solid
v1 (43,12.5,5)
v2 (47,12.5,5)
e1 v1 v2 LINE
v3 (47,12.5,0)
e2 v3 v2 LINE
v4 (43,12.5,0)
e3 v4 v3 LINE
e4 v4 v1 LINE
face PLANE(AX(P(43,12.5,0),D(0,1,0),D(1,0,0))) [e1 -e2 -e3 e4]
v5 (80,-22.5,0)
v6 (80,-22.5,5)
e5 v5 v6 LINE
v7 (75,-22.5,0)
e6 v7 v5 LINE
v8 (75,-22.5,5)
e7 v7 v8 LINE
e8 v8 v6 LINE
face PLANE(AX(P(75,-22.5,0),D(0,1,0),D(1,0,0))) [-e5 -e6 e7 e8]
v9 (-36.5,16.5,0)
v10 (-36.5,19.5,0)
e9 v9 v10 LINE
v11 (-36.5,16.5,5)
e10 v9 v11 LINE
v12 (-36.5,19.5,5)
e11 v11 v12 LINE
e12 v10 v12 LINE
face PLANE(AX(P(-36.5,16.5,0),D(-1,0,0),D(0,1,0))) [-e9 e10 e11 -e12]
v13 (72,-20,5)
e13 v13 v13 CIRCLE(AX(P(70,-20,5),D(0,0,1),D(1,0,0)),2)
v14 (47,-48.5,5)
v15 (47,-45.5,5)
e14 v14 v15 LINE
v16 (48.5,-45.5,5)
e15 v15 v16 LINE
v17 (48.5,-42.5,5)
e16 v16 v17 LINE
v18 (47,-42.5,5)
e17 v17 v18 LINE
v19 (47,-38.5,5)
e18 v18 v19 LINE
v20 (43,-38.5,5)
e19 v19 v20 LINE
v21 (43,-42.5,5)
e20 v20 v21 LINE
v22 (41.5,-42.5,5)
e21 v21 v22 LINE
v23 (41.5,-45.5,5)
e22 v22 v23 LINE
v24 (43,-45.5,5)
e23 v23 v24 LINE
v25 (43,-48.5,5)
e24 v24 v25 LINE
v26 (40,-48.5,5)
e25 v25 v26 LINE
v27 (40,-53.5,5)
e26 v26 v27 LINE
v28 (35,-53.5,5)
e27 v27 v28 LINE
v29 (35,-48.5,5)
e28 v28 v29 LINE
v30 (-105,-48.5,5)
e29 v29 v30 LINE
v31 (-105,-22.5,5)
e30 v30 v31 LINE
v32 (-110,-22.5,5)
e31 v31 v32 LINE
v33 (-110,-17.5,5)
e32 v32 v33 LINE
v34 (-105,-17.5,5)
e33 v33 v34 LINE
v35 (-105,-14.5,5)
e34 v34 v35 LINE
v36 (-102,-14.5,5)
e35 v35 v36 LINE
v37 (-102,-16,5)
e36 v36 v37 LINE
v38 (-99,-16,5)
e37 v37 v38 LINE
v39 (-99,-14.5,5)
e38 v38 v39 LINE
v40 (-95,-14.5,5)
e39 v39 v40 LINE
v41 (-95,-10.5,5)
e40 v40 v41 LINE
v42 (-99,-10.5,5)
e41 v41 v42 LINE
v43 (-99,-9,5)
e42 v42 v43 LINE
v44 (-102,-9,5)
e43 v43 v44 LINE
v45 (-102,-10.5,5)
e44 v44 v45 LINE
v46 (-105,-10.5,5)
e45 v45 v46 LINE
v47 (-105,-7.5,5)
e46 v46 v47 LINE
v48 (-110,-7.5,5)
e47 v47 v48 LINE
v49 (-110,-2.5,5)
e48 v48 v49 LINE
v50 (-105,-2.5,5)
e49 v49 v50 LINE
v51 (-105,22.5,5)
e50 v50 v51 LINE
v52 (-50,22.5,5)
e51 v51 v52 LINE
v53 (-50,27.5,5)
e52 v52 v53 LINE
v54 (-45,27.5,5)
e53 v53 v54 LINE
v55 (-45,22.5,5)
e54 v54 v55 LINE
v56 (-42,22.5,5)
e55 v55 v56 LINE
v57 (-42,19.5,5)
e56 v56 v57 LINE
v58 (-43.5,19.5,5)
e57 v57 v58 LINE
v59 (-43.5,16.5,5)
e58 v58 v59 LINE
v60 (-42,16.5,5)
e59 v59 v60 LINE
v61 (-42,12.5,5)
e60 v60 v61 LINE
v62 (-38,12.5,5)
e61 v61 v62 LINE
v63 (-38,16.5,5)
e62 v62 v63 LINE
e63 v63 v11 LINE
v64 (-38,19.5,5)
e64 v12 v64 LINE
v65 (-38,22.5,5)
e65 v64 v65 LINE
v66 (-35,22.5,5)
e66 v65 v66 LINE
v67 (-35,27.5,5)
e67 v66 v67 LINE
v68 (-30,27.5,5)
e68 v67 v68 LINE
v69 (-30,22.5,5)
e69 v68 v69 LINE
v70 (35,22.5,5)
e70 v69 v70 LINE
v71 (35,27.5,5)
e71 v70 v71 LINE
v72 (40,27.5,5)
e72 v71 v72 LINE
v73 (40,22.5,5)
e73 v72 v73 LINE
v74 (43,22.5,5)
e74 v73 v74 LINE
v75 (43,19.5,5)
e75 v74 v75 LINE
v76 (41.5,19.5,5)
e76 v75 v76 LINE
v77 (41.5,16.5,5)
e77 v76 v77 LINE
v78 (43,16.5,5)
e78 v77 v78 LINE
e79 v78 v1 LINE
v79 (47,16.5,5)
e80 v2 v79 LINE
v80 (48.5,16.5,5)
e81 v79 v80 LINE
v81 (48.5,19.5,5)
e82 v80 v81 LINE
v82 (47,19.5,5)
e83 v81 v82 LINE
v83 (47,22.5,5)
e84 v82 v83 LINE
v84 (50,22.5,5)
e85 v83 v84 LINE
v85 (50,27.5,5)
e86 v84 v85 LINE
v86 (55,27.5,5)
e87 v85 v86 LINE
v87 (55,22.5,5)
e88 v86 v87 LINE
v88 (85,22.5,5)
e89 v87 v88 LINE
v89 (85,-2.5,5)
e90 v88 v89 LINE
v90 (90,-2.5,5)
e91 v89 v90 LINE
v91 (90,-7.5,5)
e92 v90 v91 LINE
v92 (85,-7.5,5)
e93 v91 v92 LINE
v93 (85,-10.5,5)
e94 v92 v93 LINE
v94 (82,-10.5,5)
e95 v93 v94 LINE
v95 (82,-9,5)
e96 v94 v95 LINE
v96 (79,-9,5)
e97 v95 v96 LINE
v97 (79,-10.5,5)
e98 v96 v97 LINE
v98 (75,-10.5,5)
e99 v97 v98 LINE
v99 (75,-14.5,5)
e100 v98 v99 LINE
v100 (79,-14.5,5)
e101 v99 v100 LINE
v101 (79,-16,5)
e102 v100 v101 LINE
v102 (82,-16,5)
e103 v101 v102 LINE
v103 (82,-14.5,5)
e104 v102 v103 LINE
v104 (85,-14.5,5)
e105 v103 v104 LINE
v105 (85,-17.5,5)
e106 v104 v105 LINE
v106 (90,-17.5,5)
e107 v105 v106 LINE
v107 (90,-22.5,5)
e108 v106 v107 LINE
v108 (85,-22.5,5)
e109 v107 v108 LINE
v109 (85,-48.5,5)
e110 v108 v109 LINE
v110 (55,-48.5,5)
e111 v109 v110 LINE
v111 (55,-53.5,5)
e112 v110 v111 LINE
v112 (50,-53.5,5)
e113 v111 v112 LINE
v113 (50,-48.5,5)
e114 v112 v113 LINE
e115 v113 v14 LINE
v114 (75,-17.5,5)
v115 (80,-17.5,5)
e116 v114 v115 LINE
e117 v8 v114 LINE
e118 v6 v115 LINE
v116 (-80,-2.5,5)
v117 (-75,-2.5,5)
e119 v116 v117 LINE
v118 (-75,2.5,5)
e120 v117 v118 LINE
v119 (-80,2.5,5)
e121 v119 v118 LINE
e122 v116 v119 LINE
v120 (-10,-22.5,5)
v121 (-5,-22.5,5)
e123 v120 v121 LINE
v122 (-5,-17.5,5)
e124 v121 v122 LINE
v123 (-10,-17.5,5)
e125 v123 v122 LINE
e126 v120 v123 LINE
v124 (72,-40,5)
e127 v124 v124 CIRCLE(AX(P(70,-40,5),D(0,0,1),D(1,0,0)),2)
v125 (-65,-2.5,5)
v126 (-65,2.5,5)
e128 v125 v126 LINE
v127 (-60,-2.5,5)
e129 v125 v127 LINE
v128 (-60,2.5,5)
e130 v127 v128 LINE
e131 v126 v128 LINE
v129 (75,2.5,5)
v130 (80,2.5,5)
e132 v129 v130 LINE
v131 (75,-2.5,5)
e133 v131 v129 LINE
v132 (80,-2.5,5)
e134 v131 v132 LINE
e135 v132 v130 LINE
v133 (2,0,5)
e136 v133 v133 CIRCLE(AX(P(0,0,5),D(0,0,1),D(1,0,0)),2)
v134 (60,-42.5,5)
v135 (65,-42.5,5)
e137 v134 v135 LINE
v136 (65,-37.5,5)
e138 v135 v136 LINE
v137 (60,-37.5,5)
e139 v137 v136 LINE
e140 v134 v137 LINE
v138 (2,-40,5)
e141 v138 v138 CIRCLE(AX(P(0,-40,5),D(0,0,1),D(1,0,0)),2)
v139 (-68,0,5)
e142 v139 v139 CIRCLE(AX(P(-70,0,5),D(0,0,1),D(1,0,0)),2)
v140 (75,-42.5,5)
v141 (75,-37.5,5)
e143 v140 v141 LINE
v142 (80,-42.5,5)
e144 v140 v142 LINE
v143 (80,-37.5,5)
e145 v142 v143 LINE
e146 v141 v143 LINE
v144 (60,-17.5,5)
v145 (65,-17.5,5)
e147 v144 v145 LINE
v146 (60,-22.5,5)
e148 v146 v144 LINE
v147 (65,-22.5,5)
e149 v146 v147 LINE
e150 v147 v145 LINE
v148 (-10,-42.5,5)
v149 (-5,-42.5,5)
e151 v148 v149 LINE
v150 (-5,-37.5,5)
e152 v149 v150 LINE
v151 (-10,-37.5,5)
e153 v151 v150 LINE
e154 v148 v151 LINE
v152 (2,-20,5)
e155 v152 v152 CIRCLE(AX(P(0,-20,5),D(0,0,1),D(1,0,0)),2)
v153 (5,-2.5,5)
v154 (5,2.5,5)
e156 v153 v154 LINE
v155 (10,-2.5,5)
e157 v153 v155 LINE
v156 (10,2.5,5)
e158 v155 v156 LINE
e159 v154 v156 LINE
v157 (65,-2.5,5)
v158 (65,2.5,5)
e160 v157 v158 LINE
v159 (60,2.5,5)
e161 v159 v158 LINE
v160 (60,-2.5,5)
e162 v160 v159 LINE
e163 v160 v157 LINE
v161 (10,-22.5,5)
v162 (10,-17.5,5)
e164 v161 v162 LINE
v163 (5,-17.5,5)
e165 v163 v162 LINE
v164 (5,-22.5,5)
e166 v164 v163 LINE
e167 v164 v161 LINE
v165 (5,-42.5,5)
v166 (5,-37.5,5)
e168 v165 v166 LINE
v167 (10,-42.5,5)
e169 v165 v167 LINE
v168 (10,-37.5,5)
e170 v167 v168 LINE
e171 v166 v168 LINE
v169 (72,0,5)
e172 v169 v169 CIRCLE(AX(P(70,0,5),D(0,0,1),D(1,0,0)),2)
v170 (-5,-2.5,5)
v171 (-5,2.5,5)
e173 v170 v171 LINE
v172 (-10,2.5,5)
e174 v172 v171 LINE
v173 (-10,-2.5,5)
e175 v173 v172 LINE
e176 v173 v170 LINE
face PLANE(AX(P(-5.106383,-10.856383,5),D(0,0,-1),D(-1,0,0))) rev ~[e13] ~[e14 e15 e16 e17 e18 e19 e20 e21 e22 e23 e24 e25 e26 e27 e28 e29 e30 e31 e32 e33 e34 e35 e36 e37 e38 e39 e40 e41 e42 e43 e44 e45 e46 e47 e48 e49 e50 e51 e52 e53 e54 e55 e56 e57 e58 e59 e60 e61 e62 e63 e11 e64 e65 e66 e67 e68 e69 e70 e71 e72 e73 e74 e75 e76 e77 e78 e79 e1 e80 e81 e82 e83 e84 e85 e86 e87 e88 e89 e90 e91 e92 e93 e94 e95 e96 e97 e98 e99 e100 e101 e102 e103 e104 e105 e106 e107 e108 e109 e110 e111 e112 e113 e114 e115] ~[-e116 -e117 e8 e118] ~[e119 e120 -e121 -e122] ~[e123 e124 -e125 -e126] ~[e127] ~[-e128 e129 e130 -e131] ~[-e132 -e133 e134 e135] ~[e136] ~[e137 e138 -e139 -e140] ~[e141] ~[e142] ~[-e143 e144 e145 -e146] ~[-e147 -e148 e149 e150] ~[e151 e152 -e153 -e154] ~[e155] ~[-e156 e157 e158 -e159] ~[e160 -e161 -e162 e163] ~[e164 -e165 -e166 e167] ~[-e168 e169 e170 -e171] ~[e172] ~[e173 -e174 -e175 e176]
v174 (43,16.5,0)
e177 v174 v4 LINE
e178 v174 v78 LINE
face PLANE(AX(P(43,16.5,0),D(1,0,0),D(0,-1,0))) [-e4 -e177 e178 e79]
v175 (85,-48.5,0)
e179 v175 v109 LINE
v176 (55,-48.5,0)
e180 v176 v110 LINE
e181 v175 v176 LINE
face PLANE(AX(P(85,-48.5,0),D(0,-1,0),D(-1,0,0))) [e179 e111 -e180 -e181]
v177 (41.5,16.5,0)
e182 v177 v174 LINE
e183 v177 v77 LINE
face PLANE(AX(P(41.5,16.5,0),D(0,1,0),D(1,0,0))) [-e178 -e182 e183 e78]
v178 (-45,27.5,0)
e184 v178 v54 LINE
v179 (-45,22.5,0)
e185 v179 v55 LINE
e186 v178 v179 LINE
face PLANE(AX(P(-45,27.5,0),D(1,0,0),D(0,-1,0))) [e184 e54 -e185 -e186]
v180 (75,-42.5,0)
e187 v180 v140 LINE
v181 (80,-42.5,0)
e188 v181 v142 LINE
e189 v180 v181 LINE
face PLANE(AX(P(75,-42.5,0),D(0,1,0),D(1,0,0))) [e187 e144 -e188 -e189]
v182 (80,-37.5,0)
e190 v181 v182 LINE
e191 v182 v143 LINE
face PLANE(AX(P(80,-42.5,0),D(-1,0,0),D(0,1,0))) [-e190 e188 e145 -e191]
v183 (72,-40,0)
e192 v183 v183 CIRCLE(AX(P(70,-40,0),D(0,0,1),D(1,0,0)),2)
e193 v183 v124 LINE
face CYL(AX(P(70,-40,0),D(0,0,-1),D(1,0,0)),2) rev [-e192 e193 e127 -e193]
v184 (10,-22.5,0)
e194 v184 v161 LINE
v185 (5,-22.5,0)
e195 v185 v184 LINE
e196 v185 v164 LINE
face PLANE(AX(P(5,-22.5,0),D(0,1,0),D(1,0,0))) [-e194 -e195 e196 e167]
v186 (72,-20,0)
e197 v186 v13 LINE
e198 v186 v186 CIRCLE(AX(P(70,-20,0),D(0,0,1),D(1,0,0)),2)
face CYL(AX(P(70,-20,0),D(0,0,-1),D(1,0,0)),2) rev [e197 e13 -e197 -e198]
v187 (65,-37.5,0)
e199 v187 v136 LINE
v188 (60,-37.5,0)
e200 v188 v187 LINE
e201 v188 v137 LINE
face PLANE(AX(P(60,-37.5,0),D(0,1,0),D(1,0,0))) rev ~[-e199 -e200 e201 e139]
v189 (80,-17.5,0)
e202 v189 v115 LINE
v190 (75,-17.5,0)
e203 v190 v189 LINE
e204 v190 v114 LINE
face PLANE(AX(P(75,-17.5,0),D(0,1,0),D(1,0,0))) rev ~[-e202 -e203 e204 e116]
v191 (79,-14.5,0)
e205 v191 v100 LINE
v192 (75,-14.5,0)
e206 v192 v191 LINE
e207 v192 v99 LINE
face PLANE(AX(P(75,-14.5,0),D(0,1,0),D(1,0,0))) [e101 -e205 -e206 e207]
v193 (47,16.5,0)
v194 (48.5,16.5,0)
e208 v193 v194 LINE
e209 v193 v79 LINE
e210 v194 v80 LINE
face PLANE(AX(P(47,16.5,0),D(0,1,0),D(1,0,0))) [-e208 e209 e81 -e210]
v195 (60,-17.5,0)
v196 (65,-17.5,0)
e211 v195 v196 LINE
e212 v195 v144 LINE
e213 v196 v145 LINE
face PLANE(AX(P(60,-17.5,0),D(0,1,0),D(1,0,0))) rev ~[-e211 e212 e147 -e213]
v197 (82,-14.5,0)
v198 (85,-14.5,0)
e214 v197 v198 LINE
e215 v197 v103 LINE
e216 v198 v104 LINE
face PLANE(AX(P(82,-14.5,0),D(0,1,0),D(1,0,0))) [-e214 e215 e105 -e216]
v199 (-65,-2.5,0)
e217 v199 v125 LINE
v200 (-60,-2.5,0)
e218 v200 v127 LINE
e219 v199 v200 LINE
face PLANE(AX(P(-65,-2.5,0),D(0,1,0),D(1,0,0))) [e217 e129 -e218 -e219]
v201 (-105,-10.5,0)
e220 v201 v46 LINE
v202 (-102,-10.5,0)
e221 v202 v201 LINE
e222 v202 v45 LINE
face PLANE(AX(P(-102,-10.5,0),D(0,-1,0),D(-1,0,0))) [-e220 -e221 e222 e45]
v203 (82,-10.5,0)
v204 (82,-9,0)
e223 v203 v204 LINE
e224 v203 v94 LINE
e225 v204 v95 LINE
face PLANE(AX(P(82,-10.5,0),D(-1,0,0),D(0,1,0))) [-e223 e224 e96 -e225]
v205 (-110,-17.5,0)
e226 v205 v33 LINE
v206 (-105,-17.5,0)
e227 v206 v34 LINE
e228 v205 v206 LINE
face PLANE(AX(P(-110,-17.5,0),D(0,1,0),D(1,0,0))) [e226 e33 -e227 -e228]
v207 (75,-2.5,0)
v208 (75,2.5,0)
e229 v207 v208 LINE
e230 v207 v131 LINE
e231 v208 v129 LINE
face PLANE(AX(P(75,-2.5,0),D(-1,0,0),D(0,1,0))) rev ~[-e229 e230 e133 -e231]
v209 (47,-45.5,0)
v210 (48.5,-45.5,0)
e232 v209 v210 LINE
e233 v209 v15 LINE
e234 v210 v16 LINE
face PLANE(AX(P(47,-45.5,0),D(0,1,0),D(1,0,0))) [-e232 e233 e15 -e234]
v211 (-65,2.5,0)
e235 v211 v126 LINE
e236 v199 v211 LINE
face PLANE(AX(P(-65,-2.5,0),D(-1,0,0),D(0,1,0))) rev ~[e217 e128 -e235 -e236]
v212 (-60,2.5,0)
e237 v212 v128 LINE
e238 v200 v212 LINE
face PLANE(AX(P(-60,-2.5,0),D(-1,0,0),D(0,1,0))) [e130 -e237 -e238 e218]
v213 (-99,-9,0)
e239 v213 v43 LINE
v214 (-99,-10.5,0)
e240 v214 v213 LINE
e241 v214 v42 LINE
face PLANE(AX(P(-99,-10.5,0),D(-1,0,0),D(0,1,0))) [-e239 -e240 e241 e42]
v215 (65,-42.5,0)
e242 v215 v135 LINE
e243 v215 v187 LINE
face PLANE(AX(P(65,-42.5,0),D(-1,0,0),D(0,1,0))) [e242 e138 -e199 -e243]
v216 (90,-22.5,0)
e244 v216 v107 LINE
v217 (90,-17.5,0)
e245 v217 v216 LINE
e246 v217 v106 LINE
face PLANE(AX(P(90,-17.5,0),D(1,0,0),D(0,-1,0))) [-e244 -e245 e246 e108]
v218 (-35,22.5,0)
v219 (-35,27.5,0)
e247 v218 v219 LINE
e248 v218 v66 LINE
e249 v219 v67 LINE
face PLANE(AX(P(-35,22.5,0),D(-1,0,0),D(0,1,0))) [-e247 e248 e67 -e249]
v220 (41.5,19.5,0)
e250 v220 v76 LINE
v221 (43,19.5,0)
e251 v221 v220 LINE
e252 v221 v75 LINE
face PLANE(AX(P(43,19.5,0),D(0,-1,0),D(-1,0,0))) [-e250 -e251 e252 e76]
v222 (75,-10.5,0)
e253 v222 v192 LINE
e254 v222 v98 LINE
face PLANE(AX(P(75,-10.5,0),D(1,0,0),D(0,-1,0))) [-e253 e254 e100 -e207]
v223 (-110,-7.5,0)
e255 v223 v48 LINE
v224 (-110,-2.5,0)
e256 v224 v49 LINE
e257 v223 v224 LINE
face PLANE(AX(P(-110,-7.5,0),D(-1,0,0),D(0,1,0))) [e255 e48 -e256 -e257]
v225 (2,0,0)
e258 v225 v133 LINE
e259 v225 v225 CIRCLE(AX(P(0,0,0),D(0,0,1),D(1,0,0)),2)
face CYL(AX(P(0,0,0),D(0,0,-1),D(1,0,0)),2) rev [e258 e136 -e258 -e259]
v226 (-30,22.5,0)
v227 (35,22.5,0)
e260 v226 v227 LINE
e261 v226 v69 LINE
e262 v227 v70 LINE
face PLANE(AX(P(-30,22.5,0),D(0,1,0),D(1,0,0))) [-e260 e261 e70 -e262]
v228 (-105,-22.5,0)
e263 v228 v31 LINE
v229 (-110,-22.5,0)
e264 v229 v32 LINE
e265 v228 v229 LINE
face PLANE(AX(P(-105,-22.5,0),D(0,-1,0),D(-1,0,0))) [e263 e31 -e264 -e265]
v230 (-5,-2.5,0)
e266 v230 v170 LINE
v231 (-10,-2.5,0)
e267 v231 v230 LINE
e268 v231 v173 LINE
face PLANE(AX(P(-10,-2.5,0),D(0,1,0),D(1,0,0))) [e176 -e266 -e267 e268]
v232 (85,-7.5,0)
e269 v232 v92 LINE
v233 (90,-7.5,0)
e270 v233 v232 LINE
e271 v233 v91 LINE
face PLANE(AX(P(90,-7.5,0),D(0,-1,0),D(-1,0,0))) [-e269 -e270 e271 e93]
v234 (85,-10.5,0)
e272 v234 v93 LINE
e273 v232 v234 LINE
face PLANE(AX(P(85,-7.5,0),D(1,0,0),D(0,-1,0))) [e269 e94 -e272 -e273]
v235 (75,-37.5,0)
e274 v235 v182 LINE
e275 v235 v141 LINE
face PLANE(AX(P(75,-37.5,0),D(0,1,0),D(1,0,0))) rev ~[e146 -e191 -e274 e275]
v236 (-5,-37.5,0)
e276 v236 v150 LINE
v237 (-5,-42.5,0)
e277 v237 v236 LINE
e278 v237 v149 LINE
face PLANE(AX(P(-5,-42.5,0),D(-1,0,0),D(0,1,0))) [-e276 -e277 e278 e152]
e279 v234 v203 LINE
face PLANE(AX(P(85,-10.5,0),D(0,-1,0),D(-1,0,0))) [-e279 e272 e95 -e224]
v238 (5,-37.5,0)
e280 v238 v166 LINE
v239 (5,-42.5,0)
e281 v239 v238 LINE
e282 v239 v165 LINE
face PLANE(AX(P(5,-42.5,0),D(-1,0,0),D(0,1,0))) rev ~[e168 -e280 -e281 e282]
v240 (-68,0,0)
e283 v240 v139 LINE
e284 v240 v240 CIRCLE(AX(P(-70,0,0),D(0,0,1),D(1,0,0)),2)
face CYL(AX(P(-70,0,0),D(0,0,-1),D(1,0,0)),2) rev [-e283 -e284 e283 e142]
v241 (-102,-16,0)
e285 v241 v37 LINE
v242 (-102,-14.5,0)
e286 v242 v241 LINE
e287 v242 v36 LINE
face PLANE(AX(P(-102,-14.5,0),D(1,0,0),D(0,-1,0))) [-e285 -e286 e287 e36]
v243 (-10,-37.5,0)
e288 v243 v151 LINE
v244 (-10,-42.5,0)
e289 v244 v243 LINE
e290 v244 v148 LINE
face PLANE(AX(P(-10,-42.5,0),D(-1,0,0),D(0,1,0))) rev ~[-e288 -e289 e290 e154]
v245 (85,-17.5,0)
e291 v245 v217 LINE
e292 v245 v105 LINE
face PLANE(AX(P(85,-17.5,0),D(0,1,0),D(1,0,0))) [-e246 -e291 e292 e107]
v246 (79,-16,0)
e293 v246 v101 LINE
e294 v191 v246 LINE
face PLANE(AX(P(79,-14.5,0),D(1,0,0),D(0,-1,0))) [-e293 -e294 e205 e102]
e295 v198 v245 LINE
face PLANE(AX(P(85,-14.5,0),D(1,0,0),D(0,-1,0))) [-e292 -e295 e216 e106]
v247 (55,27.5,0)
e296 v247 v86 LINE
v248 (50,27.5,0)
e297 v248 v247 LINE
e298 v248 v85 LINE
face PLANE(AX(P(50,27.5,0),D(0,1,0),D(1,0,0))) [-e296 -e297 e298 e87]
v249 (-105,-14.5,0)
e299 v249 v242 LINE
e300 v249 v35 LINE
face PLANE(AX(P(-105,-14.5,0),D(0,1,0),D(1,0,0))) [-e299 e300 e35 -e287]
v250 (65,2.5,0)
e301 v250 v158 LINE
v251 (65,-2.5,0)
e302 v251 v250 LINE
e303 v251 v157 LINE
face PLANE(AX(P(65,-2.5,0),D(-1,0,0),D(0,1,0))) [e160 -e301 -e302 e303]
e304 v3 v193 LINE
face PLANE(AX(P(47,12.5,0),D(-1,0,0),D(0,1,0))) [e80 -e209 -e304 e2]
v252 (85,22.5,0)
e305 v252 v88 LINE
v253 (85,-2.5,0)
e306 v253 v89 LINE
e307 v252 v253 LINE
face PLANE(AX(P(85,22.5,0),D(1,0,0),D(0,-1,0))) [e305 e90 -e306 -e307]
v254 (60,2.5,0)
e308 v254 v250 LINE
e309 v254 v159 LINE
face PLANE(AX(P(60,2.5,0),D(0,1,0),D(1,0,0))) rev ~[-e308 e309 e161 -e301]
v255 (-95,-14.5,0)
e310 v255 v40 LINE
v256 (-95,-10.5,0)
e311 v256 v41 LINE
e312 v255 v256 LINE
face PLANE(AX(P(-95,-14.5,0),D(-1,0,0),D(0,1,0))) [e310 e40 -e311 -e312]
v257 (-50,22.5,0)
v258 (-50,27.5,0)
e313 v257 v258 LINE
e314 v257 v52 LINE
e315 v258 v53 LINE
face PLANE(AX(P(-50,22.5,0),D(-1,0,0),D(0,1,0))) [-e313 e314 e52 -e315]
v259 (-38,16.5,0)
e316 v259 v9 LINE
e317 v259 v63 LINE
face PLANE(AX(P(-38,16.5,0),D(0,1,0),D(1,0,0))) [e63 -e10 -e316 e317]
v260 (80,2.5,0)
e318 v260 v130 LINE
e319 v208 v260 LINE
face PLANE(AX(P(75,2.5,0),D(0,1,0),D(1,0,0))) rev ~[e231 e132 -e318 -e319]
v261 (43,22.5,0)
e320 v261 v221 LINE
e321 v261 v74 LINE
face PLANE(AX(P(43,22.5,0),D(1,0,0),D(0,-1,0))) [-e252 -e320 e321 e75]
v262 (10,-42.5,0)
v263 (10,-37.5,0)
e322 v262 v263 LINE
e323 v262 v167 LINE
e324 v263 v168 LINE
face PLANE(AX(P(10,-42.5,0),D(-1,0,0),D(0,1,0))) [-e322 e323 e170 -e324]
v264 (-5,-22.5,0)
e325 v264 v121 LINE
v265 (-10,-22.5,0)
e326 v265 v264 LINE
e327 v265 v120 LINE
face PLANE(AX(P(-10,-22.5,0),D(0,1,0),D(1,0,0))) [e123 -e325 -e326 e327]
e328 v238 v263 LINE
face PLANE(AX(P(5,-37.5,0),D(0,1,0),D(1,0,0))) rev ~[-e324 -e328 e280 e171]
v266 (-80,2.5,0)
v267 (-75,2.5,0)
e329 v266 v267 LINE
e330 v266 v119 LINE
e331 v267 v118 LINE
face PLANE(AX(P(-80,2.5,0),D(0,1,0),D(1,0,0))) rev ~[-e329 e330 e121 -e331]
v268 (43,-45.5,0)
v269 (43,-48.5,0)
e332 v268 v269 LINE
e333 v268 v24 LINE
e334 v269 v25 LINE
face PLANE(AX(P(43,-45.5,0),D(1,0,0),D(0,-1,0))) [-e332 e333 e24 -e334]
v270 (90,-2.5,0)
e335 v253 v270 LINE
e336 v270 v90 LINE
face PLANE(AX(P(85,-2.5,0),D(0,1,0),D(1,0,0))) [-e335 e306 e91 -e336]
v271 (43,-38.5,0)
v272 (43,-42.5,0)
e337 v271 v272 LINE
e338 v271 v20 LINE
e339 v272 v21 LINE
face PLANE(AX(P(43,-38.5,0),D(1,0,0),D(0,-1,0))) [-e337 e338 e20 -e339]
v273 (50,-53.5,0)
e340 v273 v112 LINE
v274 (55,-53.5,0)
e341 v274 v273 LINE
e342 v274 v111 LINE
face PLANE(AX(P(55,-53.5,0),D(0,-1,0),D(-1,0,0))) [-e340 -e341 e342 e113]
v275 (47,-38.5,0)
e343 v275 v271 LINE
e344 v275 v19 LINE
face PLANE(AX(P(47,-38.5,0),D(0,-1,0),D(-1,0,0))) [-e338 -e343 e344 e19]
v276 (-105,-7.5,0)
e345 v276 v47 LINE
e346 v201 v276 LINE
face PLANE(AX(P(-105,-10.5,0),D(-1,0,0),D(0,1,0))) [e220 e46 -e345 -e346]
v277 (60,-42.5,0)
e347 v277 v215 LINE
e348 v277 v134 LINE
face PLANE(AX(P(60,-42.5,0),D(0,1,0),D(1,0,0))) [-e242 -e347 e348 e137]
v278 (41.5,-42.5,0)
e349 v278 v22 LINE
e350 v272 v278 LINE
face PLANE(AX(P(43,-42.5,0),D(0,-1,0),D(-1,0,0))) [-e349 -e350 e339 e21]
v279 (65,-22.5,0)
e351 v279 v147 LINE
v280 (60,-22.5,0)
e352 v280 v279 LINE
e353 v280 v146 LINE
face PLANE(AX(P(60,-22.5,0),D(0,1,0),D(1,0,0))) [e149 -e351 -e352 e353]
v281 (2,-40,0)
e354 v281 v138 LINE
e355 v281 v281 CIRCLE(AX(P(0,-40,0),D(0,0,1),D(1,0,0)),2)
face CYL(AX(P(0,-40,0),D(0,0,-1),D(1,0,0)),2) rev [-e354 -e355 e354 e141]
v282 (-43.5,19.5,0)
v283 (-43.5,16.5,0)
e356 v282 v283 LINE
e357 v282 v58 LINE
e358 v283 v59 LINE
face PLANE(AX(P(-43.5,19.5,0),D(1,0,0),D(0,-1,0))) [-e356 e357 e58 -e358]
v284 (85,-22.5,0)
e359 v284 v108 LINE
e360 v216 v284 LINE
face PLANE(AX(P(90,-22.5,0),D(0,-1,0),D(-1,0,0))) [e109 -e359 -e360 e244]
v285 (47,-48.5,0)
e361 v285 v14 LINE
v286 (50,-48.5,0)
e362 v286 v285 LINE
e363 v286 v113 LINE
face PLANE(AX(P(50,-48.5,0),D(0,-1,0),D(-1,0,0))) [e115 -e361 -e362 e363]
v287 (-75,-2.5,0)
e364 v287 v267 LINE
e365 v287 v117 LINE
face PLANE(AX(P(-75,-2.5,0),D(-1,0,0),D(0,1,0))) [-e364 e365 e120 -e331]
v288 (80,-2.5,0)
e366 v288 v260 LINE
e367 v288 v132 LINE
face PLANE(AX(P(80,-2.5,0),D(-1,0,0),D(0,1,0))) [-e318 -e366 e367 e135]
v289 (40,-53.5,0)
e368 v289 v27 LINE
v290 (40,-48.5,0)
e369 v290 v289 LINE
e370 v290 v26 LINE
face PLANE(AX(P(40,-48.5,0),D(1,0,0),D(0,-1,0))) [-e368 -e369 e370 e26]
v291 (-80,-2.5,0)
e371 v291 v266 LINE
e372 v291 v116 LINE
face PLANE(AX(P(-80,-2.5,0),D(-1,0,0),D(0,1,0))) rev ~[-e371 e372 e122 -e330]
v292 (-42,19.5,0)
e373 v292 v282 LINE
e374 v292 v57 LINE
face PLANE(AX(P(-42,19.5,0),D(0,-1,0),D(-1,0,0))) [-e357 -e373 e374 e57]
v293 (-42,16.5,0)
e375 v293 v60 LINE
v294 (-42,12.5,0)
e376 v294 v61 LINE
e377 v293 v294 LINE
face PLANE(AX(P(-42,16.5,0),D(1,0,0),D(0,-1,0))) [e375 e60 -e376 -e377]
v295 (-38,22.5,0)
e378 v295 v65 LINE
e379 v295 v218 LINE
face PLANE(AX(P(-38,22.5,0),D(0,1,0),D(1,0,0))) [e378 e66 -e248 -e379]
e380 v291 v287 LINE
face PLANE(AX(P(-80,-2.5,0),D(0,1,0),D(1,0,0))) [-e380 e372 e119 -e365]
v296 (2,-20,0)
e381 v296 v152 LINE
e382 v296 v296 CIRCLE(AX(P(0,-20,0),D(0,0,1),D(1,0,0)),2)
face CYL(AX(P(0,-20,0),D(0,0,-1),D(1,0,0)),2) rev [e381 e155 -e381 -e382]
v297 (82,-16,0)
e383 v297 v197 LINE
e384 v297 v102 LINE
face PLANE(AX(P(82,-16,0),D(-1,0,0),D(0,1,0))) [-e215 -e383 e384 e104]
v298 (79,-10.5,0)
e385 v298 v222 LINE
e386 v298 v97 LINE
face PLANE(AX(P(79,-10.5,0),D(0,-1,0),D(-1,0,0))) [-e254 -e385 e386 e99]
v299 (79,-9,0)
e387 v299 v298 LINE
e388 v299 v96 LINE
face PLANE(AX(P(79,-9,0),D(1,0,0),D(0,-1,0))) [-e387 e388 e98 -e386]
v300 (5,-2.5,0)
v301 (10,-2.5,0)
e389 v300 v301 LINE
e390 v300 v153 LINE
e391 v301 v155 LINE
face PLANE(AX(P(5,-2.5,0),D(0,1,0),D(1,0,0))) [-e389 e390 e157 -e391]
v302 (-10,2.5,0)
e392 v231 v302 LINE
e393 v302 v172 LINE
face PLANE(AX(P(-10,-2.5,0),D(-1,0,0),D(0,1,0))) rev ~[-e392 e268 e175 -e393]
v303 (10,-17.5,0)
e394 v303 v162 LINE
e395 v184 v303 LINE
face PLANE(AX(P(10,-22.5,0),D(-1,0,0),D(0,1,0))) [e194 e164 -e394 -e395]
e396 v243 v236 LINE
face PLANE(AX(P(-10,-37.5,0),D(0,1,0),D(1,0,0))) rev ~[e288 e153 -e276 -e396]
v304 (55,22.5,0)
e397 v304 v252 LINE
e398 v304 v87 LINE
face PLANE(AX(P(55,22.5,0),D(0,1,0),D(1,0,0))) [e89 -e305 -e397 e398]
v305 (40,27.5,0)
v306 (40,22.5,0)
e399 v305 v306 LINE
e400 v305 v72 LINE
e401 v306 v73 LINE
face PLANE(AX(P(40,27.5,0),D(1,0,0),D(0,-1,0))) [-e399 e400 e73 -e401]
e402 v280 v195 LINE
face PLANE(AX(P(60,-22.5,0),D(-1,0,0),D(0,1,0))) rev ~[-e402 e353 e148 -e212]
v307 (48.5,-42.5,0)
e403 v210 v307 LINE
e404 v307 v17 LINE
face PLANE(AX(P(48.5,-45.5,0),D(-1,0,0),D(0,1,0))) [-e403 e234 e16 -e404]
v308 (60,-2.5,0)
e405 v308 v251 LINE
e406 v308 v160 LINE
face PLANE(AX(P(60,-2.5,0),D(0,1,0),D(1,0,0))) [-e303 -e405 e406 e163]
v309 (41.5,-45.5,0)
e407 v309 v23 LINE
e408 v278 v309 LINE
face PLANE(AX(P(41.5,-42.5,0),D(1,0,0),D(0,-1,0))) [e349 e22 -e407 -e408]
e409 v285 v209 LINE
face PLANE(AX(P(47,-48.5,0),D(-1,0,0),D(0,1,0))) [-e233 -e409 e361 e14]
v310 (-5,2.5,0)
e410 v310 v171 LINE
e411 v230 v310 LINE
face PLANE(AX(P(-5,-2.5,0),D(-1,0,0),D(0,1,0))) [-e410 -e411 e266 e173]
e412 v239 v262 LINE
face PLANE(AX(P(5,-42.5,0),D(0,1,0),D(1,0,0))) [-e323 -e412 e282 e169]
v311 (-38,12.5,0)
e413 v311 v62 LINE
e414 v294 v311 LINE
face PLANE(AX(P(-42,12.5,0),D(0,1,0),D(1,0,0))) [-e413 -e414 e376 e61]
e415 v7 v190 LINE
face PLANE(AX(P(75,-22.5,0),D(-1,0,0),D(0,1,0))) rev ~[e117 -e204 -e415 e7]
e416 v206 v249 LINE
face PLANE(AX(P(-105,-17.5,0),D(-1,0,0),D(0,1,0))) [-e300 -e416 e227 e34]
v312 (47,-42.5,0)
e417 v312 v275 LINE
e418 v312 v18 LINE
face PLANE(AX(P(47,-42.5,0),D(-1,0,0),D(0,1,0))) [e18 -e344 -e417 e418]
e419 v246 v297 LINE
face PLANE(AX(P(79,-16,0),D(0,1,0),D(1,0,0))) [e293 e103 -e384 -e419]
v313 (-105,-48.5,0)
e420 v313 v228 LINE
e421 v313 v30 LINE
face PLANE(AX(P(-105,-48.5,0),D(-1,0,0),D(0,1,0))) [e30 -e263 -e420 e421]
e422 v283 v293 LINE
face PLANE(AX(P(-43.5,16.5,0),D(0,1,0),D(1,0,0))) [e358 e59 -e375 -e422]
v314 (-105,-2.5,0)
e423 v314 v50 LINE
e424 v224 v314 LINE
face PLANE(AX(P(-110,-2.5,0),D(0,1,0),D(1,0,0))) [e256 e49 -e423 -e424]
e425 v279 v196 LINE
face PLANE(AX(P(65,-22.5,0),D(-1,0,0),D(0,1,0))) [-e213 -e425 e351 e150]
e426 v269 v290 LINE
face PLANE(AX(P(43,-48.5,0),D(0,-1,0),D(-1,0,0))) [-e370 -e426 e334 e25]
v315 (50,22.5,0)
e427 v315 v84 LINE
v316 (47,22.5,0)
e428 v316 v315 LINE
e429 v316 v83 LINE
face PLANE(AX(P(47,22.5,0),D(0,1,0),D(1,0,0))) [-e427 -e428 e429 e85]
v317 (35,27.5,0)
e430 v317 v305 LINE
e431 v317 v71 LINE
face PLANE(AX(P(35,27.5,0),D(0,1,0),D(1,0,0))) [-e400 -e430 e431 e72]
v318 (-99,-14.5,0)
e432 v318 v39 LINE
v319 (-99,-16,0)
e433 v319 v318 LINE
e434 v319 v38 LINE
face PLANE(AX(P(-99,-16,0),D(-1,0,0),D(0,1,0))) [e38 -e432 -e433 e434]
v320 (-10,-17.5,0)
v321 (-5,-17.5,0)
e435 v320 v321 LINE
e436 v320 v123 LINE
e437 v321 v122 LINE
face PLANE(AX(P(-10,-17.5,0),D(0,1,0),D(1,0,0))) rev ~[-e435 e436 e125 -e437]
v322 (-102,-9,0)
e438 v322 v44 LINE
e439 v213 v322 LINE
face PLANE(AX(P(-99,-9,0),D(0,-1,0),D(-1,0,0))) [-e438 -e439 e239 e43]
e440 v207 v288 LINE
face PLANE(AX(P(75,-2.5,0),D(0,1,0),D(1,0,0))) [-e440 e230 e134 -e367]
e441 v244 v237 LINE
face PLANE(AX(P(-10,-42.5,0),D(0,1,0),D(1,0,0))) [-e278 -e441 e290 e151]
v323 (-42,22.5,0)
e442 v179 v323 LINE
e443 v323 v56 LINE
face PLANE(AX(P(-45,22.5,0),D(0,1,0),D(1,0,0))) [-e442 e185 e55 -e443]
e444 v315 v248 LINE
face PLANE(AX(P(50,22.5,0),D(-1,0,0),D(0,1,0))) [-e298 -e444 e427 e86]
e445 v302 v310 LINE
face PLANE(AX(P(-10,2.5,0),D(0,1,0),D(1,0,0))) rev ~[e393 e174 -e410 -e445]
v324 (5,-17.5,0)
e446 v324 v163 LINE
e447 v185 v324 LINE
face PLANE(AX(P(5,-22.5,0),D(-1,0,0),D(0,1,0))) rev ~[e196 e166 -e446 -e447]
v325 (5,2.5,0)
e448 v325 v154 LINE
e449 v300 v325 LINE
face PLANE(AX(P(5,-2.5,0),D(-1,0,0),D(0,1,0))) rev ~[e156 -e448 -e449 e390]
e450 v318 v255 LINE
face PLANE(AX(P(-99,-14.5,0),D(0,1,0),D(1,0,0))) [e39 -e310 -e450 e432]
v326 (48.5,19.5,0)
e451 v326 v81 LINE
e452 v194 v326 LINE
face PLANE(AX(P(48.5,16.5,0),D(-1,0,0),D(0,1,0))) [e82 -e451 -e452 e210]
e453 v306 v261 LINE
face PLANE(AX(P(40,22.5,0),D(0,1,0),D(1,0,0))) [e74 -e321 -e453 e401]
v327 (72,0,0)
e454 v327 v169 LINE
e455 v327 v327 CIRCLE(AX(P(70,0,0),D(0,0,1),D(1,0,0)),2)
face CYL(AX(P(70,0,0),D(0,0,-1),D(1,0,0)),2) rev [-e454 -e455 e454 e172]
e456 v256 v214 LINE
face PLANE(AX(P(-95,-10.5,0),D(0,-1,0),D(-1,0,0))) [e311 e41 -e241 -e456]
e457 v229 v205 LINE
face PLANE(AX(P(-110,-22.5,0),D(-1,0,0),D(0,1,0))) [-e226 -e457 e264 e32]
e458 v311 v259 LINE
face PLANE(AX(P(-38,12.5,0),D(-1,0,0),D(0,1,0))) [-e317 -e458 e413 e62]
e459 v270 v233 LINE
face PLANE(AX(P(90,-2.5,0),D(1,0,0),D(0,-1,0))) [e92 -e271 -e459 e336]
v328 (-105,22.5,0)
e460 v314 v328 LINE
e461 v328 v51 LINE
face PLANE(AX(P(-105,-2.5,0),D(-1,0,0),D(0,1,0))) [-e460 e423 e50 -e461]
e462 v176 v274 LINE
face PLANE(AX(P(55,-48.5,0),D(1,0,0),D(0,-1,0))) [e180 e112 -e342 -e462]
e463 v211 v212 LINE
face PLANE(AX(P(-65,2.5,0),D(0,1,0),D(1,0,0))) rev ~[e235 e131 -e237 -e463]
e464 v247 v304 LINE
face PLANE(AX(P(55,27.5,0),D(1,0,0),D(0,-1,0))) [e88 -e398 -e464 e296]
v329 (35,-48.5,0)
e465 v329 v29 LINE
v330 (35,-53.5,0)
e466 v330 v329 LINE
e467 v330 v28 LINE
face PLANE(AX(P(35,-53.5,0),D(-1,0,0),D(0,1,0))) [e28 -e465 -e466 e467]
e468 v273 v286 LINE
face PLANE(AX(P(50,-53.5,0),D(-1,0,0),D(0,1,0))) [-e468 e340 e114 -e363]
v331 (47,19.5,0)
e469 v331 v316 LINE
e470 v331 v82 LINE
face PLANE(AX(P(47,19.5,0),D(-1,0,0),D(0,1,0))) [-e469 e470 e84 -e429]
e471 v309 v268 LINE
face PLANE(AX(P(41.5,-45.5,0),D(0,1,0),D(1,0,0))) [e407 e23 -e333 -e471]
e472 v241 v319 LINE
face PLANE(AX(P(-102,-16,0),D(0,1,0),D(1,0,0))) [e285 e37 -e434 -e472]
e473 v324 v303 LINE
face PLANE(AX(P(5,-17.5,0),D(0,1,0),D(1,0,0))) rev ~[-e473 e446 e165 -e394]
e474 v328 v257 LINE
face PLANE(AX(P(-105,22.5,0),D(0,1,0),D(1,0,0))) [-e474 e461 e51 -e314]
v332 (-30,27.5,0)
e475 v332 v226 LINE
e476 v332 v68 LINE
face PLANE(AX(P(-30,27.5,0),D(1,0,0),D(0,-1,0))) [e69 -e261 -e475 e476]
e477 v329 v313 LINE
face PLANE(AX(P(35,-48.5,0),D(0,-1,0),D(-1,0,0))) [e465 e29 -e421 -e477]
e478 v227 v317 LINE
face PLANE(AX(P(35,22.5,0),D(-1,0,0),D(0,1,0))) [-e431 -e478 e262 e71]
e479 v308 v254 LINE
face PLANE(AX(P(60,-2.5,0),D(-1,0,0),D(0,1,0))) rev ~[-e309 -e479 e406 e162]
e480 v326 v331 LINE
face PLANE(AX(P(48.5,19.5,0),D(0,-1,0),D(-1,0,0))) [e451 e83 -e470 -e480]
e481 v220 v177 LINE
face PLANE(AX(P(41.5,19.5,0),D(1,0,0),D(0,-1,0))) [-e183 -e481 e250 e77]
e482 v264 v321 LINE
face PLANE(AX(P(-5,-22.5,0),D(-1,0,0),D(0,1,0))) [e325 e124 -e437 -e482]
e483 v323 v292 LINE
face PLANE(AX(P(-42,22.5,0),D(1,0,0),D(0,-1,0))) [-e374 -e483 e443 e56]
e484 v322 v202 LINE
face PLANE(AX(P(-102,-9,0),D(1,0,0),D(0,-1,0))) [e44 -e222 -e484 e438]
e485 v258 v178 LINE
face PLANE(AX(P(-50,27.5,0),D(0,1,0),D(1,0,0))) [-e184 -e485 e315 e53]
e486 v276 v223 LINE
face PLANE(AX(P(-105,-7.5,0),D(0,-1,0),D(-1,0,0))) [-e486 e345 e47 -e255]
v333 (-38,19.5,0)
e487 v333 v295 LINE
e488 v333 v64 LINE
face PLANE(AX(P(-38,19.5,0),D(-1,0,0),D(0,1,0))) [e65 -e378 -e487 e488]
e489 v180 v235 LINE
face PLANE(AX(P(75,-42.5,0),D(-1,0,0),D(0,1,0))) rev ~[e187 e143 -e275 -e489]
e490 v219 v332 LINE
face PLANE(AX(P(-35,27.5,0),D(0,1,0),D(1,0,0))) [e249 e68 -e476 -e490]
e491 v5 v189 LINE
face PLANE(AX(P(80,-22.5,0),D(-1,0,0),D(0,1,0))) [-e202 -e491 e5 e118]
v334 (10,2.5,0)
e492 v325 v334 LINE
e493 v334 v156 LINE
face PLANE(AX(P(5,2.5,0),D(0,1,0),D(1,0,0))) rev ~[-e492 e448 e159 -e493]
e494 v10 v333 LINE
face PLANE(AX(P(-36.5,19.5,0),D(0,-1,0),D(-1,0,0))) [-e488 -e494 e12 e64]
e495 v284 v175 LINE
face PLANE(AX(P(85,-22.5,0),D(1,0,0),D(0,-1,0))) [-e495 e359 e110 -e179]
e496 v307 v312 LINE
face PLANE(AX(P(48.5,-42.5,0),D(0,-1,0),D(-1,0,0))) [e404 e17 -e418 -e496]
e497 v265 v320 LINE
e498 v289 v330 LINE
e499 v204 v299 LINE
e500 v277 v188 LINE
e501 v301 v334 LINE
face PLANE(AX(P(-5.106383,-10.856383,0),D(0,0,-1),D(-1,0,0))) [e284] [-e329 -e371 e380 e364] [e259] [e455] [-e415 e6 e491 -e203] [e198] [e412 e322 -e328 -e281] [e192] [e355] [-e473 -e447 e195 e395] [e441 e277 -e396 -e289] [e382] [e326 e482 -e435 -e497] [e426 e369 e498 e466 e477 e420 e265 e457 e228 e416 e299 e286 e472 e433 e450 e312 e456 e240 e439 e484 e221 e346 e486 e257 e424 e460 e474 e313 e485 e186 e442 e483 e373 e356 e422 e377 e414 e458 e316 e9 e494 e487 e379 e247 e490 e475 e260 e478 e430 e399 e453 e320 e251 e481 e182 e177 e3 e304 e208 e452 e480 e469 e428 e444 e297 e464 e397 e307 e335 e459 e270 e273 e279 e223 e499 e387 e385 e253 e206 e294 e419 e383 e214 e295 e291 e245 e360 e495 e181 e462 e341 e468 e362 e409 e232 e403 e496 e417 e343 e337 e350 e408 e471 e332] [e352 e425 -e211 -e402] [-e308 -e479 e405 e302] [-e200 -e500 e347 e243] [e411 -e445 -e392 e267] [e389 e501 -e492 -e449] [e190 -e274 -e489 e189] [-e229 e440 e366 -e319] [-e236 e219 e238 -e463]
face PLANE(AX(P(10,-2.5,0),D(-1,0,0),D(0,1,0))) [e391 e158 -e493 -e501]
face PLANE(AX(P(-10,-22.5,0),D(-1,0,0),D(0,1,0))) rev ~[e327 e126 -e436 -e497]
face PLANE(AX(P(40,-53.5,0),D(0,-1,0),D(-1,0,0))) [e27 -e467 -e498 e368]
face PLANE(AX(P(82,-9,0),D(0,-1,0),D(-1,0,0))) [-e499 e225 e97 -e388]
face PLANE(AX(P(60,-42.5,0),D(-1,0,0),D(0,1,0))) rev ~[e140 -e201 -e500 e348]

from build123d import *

# Parameters (mm, degrees)
ESQUISSE1_R        = 2
ESQUISSE1_W        = 5
ESQUISSE1_H        = 5
BOSS_EXTRU_1_DEPTH = 5


with BuildPart() as part:
    # Esquisse1 → Boss.-Extru.1 (new body)
    with BuildSketch(Plane.XY):
        Polygon((-105, 22.5), (-50, 22.5), (-50, 27.5), (-45, 27.5), (-45, 22.5), (-42, 22.5), (-42, 19.5), (-43.5, 19.5), (-43.5, 16.5), (-42, 16.5), (-42, 12.5), (-38, 12.5), (-38, 16.5), (-36.5, 16.5), (-36.5, 19.5), (-38, 19.5), (-38, 22.5), (-35, 22.5), (-35, 27.5), (-30, 27.5), (-30, 22.5), (35, 22.5), (35, 27.5), (40, 27.5), (40, 22.5), (43, 22.5), (43, 19.5), (41.5, 19.5), (41.5, 16.5), (43, 16.5), (43, 12.5), (47, 12.5), (47, 16.5), (48.5, 16.5), (48.5, 19.5), (47, 19.5), (47, 22.5), (50, 22.5), (50, 27.5), (55, 27.5), (55, 22.5), (85, 22.5), (85, -2.5), (90, -2.5), (90, -7.5), (85, -7.5), (85, -10.5), (82, -10.5), (82, -9), (79, -9), (79, -10.5), (75, -10.5), (75, -14.5), (79, -14.5), (79, -16), (82, -16), (82, -14.5), (85, -14.5), (85, -17.5), (90, -17.5), (90, -22.5), (85, -22.5), (85, -48.5), (55, -48.5), (55, -53.5), (50, -53.5), (50, -48.5), (47, -48.5), (47, -45.5), (48.5, -45.5), (48.5, -42.5), (47, -42.5), (47, -38.5), (43, -38.5), (43, -42.5), (41.5, -42.5), (41.5, -45.5), (43, -45.5), (43, -48.5), (40, -48.5), (40, -53.5), (35, -53.5), (35, -48.5), (-105, -48.5), (-105, -22.5), (-110, -22.5), (-110, -17.5), (-105, -17.5), (-105, -14.5), (-102, -14.5), (-102, -16), (-99, -16), (-99, -14.5), (-95, -14.5), (-95, -10.5), (-99, -10.5), (-99, -9), (-102, -9), (-102, -10.5), (-105, -10.5), (-105, -7.5), (-110, -7.5), (-110, -2.5), (-105, -2.5), align=None)
        Circle(ESQUISSE1_R, mode=Mode.SUBTRACT)
        with Locations((70, 0)):
            Circle(ESQUISSE1_R, mode=Mode.SUBTRACT)
        with Locations((0, -20)):
            Circle(ESQUISSE1_R, mode=Mode.SUBTRACT)
        with Locations((70, -20)):
            Circle(ESQUISSE1_R, mode=Mode.SUBTRACT)
        with Locations((0, -40)):
            Circle(ESQUISSE1_R, mode=Mode.SUBTRACT)
        with Locations((70, -40)):
            Circle(ESQUISSE1_R, mode=Mode.SUBTRACT)
        with Locations((-70, 0)):
            Circle(ESQUISSE1_R, mode=Mode.SUBTRACT)
        with Locations((-7.5, 0)):
            Rectangle(ESQUISSE1_W, ESQUISSE1_H, mode=Mode.SUBTRACT)
        with Locations((7.5, 0)):
            Rectangle(ESQUISSE1_W, ESQUISSE1_H, mode=Mode.SUBTRACT)
        with Locations((62.5, 0)):
            Rectangle(ESQUISSE1_W, ESQUISSE1_H, mode=Mode.SUBTRACT)
        with Locations((77.5, 0)):
            Rectangle(ESQUISSE1_W, ESQUISSE1_H, mode=Mode.SUBTRACT)
        with Locations((-7.5, -20)):
            Rectangle(ESQUISSE1_W, ESQUISSE1_H, mode=Mode.SUBTRACT)
        with Locations((7.5, -20)):
            Rectangle(ESQUISSE1_W, ESQUISSE1_H, mode=Mode.SUBTRACT)
        with Locations((62.5, -20)):
            Rectangle(ESQUISSE1_W, ESQUISSE1_H, mode=Mode.SUBTRACT)
        with Locations((77.5, -20)):
            Rectangle(ESQUISSE1_W, ESQUISSE1_H, mode=Mode.SUBTRACT)
        with Locations((-7.5, -40)):
            Rectangle(ESQUISSE1_W, ESQUISSE1_H, mode=Mode.SUBTRACT)
        with Locations((7.5, -40)):
            Rectangle(ESQUISSE1_W, ESQUISSE1_H, mode=Mode.SUBTRACT)
        with Locations((62.5, -40)):
            Rectangle(ESQUISSE1_W, ESQUISSE1_H, mode=Mode.SUBTRACT)
        with Locations((77.5, -40)):
            Rectangle(ESQUISSE1_W, ESQUISSE1_H, mode=Mode.SUBTRACT)
        with Locations((-77.5, 0)):
            Rectangle(ESQUISSE1_W, ESQUISSE1_H, mode=Mode.SUBTRACT)
        with Locations((-62.5, 0)):
            Rectangle(ESQUISSE1_W, ESQUISSE1_H, mode=Mode.SUBTRACT)
    extrude(amount=BOSS_EXTRU_1_DEPTH)


solid = part.part
